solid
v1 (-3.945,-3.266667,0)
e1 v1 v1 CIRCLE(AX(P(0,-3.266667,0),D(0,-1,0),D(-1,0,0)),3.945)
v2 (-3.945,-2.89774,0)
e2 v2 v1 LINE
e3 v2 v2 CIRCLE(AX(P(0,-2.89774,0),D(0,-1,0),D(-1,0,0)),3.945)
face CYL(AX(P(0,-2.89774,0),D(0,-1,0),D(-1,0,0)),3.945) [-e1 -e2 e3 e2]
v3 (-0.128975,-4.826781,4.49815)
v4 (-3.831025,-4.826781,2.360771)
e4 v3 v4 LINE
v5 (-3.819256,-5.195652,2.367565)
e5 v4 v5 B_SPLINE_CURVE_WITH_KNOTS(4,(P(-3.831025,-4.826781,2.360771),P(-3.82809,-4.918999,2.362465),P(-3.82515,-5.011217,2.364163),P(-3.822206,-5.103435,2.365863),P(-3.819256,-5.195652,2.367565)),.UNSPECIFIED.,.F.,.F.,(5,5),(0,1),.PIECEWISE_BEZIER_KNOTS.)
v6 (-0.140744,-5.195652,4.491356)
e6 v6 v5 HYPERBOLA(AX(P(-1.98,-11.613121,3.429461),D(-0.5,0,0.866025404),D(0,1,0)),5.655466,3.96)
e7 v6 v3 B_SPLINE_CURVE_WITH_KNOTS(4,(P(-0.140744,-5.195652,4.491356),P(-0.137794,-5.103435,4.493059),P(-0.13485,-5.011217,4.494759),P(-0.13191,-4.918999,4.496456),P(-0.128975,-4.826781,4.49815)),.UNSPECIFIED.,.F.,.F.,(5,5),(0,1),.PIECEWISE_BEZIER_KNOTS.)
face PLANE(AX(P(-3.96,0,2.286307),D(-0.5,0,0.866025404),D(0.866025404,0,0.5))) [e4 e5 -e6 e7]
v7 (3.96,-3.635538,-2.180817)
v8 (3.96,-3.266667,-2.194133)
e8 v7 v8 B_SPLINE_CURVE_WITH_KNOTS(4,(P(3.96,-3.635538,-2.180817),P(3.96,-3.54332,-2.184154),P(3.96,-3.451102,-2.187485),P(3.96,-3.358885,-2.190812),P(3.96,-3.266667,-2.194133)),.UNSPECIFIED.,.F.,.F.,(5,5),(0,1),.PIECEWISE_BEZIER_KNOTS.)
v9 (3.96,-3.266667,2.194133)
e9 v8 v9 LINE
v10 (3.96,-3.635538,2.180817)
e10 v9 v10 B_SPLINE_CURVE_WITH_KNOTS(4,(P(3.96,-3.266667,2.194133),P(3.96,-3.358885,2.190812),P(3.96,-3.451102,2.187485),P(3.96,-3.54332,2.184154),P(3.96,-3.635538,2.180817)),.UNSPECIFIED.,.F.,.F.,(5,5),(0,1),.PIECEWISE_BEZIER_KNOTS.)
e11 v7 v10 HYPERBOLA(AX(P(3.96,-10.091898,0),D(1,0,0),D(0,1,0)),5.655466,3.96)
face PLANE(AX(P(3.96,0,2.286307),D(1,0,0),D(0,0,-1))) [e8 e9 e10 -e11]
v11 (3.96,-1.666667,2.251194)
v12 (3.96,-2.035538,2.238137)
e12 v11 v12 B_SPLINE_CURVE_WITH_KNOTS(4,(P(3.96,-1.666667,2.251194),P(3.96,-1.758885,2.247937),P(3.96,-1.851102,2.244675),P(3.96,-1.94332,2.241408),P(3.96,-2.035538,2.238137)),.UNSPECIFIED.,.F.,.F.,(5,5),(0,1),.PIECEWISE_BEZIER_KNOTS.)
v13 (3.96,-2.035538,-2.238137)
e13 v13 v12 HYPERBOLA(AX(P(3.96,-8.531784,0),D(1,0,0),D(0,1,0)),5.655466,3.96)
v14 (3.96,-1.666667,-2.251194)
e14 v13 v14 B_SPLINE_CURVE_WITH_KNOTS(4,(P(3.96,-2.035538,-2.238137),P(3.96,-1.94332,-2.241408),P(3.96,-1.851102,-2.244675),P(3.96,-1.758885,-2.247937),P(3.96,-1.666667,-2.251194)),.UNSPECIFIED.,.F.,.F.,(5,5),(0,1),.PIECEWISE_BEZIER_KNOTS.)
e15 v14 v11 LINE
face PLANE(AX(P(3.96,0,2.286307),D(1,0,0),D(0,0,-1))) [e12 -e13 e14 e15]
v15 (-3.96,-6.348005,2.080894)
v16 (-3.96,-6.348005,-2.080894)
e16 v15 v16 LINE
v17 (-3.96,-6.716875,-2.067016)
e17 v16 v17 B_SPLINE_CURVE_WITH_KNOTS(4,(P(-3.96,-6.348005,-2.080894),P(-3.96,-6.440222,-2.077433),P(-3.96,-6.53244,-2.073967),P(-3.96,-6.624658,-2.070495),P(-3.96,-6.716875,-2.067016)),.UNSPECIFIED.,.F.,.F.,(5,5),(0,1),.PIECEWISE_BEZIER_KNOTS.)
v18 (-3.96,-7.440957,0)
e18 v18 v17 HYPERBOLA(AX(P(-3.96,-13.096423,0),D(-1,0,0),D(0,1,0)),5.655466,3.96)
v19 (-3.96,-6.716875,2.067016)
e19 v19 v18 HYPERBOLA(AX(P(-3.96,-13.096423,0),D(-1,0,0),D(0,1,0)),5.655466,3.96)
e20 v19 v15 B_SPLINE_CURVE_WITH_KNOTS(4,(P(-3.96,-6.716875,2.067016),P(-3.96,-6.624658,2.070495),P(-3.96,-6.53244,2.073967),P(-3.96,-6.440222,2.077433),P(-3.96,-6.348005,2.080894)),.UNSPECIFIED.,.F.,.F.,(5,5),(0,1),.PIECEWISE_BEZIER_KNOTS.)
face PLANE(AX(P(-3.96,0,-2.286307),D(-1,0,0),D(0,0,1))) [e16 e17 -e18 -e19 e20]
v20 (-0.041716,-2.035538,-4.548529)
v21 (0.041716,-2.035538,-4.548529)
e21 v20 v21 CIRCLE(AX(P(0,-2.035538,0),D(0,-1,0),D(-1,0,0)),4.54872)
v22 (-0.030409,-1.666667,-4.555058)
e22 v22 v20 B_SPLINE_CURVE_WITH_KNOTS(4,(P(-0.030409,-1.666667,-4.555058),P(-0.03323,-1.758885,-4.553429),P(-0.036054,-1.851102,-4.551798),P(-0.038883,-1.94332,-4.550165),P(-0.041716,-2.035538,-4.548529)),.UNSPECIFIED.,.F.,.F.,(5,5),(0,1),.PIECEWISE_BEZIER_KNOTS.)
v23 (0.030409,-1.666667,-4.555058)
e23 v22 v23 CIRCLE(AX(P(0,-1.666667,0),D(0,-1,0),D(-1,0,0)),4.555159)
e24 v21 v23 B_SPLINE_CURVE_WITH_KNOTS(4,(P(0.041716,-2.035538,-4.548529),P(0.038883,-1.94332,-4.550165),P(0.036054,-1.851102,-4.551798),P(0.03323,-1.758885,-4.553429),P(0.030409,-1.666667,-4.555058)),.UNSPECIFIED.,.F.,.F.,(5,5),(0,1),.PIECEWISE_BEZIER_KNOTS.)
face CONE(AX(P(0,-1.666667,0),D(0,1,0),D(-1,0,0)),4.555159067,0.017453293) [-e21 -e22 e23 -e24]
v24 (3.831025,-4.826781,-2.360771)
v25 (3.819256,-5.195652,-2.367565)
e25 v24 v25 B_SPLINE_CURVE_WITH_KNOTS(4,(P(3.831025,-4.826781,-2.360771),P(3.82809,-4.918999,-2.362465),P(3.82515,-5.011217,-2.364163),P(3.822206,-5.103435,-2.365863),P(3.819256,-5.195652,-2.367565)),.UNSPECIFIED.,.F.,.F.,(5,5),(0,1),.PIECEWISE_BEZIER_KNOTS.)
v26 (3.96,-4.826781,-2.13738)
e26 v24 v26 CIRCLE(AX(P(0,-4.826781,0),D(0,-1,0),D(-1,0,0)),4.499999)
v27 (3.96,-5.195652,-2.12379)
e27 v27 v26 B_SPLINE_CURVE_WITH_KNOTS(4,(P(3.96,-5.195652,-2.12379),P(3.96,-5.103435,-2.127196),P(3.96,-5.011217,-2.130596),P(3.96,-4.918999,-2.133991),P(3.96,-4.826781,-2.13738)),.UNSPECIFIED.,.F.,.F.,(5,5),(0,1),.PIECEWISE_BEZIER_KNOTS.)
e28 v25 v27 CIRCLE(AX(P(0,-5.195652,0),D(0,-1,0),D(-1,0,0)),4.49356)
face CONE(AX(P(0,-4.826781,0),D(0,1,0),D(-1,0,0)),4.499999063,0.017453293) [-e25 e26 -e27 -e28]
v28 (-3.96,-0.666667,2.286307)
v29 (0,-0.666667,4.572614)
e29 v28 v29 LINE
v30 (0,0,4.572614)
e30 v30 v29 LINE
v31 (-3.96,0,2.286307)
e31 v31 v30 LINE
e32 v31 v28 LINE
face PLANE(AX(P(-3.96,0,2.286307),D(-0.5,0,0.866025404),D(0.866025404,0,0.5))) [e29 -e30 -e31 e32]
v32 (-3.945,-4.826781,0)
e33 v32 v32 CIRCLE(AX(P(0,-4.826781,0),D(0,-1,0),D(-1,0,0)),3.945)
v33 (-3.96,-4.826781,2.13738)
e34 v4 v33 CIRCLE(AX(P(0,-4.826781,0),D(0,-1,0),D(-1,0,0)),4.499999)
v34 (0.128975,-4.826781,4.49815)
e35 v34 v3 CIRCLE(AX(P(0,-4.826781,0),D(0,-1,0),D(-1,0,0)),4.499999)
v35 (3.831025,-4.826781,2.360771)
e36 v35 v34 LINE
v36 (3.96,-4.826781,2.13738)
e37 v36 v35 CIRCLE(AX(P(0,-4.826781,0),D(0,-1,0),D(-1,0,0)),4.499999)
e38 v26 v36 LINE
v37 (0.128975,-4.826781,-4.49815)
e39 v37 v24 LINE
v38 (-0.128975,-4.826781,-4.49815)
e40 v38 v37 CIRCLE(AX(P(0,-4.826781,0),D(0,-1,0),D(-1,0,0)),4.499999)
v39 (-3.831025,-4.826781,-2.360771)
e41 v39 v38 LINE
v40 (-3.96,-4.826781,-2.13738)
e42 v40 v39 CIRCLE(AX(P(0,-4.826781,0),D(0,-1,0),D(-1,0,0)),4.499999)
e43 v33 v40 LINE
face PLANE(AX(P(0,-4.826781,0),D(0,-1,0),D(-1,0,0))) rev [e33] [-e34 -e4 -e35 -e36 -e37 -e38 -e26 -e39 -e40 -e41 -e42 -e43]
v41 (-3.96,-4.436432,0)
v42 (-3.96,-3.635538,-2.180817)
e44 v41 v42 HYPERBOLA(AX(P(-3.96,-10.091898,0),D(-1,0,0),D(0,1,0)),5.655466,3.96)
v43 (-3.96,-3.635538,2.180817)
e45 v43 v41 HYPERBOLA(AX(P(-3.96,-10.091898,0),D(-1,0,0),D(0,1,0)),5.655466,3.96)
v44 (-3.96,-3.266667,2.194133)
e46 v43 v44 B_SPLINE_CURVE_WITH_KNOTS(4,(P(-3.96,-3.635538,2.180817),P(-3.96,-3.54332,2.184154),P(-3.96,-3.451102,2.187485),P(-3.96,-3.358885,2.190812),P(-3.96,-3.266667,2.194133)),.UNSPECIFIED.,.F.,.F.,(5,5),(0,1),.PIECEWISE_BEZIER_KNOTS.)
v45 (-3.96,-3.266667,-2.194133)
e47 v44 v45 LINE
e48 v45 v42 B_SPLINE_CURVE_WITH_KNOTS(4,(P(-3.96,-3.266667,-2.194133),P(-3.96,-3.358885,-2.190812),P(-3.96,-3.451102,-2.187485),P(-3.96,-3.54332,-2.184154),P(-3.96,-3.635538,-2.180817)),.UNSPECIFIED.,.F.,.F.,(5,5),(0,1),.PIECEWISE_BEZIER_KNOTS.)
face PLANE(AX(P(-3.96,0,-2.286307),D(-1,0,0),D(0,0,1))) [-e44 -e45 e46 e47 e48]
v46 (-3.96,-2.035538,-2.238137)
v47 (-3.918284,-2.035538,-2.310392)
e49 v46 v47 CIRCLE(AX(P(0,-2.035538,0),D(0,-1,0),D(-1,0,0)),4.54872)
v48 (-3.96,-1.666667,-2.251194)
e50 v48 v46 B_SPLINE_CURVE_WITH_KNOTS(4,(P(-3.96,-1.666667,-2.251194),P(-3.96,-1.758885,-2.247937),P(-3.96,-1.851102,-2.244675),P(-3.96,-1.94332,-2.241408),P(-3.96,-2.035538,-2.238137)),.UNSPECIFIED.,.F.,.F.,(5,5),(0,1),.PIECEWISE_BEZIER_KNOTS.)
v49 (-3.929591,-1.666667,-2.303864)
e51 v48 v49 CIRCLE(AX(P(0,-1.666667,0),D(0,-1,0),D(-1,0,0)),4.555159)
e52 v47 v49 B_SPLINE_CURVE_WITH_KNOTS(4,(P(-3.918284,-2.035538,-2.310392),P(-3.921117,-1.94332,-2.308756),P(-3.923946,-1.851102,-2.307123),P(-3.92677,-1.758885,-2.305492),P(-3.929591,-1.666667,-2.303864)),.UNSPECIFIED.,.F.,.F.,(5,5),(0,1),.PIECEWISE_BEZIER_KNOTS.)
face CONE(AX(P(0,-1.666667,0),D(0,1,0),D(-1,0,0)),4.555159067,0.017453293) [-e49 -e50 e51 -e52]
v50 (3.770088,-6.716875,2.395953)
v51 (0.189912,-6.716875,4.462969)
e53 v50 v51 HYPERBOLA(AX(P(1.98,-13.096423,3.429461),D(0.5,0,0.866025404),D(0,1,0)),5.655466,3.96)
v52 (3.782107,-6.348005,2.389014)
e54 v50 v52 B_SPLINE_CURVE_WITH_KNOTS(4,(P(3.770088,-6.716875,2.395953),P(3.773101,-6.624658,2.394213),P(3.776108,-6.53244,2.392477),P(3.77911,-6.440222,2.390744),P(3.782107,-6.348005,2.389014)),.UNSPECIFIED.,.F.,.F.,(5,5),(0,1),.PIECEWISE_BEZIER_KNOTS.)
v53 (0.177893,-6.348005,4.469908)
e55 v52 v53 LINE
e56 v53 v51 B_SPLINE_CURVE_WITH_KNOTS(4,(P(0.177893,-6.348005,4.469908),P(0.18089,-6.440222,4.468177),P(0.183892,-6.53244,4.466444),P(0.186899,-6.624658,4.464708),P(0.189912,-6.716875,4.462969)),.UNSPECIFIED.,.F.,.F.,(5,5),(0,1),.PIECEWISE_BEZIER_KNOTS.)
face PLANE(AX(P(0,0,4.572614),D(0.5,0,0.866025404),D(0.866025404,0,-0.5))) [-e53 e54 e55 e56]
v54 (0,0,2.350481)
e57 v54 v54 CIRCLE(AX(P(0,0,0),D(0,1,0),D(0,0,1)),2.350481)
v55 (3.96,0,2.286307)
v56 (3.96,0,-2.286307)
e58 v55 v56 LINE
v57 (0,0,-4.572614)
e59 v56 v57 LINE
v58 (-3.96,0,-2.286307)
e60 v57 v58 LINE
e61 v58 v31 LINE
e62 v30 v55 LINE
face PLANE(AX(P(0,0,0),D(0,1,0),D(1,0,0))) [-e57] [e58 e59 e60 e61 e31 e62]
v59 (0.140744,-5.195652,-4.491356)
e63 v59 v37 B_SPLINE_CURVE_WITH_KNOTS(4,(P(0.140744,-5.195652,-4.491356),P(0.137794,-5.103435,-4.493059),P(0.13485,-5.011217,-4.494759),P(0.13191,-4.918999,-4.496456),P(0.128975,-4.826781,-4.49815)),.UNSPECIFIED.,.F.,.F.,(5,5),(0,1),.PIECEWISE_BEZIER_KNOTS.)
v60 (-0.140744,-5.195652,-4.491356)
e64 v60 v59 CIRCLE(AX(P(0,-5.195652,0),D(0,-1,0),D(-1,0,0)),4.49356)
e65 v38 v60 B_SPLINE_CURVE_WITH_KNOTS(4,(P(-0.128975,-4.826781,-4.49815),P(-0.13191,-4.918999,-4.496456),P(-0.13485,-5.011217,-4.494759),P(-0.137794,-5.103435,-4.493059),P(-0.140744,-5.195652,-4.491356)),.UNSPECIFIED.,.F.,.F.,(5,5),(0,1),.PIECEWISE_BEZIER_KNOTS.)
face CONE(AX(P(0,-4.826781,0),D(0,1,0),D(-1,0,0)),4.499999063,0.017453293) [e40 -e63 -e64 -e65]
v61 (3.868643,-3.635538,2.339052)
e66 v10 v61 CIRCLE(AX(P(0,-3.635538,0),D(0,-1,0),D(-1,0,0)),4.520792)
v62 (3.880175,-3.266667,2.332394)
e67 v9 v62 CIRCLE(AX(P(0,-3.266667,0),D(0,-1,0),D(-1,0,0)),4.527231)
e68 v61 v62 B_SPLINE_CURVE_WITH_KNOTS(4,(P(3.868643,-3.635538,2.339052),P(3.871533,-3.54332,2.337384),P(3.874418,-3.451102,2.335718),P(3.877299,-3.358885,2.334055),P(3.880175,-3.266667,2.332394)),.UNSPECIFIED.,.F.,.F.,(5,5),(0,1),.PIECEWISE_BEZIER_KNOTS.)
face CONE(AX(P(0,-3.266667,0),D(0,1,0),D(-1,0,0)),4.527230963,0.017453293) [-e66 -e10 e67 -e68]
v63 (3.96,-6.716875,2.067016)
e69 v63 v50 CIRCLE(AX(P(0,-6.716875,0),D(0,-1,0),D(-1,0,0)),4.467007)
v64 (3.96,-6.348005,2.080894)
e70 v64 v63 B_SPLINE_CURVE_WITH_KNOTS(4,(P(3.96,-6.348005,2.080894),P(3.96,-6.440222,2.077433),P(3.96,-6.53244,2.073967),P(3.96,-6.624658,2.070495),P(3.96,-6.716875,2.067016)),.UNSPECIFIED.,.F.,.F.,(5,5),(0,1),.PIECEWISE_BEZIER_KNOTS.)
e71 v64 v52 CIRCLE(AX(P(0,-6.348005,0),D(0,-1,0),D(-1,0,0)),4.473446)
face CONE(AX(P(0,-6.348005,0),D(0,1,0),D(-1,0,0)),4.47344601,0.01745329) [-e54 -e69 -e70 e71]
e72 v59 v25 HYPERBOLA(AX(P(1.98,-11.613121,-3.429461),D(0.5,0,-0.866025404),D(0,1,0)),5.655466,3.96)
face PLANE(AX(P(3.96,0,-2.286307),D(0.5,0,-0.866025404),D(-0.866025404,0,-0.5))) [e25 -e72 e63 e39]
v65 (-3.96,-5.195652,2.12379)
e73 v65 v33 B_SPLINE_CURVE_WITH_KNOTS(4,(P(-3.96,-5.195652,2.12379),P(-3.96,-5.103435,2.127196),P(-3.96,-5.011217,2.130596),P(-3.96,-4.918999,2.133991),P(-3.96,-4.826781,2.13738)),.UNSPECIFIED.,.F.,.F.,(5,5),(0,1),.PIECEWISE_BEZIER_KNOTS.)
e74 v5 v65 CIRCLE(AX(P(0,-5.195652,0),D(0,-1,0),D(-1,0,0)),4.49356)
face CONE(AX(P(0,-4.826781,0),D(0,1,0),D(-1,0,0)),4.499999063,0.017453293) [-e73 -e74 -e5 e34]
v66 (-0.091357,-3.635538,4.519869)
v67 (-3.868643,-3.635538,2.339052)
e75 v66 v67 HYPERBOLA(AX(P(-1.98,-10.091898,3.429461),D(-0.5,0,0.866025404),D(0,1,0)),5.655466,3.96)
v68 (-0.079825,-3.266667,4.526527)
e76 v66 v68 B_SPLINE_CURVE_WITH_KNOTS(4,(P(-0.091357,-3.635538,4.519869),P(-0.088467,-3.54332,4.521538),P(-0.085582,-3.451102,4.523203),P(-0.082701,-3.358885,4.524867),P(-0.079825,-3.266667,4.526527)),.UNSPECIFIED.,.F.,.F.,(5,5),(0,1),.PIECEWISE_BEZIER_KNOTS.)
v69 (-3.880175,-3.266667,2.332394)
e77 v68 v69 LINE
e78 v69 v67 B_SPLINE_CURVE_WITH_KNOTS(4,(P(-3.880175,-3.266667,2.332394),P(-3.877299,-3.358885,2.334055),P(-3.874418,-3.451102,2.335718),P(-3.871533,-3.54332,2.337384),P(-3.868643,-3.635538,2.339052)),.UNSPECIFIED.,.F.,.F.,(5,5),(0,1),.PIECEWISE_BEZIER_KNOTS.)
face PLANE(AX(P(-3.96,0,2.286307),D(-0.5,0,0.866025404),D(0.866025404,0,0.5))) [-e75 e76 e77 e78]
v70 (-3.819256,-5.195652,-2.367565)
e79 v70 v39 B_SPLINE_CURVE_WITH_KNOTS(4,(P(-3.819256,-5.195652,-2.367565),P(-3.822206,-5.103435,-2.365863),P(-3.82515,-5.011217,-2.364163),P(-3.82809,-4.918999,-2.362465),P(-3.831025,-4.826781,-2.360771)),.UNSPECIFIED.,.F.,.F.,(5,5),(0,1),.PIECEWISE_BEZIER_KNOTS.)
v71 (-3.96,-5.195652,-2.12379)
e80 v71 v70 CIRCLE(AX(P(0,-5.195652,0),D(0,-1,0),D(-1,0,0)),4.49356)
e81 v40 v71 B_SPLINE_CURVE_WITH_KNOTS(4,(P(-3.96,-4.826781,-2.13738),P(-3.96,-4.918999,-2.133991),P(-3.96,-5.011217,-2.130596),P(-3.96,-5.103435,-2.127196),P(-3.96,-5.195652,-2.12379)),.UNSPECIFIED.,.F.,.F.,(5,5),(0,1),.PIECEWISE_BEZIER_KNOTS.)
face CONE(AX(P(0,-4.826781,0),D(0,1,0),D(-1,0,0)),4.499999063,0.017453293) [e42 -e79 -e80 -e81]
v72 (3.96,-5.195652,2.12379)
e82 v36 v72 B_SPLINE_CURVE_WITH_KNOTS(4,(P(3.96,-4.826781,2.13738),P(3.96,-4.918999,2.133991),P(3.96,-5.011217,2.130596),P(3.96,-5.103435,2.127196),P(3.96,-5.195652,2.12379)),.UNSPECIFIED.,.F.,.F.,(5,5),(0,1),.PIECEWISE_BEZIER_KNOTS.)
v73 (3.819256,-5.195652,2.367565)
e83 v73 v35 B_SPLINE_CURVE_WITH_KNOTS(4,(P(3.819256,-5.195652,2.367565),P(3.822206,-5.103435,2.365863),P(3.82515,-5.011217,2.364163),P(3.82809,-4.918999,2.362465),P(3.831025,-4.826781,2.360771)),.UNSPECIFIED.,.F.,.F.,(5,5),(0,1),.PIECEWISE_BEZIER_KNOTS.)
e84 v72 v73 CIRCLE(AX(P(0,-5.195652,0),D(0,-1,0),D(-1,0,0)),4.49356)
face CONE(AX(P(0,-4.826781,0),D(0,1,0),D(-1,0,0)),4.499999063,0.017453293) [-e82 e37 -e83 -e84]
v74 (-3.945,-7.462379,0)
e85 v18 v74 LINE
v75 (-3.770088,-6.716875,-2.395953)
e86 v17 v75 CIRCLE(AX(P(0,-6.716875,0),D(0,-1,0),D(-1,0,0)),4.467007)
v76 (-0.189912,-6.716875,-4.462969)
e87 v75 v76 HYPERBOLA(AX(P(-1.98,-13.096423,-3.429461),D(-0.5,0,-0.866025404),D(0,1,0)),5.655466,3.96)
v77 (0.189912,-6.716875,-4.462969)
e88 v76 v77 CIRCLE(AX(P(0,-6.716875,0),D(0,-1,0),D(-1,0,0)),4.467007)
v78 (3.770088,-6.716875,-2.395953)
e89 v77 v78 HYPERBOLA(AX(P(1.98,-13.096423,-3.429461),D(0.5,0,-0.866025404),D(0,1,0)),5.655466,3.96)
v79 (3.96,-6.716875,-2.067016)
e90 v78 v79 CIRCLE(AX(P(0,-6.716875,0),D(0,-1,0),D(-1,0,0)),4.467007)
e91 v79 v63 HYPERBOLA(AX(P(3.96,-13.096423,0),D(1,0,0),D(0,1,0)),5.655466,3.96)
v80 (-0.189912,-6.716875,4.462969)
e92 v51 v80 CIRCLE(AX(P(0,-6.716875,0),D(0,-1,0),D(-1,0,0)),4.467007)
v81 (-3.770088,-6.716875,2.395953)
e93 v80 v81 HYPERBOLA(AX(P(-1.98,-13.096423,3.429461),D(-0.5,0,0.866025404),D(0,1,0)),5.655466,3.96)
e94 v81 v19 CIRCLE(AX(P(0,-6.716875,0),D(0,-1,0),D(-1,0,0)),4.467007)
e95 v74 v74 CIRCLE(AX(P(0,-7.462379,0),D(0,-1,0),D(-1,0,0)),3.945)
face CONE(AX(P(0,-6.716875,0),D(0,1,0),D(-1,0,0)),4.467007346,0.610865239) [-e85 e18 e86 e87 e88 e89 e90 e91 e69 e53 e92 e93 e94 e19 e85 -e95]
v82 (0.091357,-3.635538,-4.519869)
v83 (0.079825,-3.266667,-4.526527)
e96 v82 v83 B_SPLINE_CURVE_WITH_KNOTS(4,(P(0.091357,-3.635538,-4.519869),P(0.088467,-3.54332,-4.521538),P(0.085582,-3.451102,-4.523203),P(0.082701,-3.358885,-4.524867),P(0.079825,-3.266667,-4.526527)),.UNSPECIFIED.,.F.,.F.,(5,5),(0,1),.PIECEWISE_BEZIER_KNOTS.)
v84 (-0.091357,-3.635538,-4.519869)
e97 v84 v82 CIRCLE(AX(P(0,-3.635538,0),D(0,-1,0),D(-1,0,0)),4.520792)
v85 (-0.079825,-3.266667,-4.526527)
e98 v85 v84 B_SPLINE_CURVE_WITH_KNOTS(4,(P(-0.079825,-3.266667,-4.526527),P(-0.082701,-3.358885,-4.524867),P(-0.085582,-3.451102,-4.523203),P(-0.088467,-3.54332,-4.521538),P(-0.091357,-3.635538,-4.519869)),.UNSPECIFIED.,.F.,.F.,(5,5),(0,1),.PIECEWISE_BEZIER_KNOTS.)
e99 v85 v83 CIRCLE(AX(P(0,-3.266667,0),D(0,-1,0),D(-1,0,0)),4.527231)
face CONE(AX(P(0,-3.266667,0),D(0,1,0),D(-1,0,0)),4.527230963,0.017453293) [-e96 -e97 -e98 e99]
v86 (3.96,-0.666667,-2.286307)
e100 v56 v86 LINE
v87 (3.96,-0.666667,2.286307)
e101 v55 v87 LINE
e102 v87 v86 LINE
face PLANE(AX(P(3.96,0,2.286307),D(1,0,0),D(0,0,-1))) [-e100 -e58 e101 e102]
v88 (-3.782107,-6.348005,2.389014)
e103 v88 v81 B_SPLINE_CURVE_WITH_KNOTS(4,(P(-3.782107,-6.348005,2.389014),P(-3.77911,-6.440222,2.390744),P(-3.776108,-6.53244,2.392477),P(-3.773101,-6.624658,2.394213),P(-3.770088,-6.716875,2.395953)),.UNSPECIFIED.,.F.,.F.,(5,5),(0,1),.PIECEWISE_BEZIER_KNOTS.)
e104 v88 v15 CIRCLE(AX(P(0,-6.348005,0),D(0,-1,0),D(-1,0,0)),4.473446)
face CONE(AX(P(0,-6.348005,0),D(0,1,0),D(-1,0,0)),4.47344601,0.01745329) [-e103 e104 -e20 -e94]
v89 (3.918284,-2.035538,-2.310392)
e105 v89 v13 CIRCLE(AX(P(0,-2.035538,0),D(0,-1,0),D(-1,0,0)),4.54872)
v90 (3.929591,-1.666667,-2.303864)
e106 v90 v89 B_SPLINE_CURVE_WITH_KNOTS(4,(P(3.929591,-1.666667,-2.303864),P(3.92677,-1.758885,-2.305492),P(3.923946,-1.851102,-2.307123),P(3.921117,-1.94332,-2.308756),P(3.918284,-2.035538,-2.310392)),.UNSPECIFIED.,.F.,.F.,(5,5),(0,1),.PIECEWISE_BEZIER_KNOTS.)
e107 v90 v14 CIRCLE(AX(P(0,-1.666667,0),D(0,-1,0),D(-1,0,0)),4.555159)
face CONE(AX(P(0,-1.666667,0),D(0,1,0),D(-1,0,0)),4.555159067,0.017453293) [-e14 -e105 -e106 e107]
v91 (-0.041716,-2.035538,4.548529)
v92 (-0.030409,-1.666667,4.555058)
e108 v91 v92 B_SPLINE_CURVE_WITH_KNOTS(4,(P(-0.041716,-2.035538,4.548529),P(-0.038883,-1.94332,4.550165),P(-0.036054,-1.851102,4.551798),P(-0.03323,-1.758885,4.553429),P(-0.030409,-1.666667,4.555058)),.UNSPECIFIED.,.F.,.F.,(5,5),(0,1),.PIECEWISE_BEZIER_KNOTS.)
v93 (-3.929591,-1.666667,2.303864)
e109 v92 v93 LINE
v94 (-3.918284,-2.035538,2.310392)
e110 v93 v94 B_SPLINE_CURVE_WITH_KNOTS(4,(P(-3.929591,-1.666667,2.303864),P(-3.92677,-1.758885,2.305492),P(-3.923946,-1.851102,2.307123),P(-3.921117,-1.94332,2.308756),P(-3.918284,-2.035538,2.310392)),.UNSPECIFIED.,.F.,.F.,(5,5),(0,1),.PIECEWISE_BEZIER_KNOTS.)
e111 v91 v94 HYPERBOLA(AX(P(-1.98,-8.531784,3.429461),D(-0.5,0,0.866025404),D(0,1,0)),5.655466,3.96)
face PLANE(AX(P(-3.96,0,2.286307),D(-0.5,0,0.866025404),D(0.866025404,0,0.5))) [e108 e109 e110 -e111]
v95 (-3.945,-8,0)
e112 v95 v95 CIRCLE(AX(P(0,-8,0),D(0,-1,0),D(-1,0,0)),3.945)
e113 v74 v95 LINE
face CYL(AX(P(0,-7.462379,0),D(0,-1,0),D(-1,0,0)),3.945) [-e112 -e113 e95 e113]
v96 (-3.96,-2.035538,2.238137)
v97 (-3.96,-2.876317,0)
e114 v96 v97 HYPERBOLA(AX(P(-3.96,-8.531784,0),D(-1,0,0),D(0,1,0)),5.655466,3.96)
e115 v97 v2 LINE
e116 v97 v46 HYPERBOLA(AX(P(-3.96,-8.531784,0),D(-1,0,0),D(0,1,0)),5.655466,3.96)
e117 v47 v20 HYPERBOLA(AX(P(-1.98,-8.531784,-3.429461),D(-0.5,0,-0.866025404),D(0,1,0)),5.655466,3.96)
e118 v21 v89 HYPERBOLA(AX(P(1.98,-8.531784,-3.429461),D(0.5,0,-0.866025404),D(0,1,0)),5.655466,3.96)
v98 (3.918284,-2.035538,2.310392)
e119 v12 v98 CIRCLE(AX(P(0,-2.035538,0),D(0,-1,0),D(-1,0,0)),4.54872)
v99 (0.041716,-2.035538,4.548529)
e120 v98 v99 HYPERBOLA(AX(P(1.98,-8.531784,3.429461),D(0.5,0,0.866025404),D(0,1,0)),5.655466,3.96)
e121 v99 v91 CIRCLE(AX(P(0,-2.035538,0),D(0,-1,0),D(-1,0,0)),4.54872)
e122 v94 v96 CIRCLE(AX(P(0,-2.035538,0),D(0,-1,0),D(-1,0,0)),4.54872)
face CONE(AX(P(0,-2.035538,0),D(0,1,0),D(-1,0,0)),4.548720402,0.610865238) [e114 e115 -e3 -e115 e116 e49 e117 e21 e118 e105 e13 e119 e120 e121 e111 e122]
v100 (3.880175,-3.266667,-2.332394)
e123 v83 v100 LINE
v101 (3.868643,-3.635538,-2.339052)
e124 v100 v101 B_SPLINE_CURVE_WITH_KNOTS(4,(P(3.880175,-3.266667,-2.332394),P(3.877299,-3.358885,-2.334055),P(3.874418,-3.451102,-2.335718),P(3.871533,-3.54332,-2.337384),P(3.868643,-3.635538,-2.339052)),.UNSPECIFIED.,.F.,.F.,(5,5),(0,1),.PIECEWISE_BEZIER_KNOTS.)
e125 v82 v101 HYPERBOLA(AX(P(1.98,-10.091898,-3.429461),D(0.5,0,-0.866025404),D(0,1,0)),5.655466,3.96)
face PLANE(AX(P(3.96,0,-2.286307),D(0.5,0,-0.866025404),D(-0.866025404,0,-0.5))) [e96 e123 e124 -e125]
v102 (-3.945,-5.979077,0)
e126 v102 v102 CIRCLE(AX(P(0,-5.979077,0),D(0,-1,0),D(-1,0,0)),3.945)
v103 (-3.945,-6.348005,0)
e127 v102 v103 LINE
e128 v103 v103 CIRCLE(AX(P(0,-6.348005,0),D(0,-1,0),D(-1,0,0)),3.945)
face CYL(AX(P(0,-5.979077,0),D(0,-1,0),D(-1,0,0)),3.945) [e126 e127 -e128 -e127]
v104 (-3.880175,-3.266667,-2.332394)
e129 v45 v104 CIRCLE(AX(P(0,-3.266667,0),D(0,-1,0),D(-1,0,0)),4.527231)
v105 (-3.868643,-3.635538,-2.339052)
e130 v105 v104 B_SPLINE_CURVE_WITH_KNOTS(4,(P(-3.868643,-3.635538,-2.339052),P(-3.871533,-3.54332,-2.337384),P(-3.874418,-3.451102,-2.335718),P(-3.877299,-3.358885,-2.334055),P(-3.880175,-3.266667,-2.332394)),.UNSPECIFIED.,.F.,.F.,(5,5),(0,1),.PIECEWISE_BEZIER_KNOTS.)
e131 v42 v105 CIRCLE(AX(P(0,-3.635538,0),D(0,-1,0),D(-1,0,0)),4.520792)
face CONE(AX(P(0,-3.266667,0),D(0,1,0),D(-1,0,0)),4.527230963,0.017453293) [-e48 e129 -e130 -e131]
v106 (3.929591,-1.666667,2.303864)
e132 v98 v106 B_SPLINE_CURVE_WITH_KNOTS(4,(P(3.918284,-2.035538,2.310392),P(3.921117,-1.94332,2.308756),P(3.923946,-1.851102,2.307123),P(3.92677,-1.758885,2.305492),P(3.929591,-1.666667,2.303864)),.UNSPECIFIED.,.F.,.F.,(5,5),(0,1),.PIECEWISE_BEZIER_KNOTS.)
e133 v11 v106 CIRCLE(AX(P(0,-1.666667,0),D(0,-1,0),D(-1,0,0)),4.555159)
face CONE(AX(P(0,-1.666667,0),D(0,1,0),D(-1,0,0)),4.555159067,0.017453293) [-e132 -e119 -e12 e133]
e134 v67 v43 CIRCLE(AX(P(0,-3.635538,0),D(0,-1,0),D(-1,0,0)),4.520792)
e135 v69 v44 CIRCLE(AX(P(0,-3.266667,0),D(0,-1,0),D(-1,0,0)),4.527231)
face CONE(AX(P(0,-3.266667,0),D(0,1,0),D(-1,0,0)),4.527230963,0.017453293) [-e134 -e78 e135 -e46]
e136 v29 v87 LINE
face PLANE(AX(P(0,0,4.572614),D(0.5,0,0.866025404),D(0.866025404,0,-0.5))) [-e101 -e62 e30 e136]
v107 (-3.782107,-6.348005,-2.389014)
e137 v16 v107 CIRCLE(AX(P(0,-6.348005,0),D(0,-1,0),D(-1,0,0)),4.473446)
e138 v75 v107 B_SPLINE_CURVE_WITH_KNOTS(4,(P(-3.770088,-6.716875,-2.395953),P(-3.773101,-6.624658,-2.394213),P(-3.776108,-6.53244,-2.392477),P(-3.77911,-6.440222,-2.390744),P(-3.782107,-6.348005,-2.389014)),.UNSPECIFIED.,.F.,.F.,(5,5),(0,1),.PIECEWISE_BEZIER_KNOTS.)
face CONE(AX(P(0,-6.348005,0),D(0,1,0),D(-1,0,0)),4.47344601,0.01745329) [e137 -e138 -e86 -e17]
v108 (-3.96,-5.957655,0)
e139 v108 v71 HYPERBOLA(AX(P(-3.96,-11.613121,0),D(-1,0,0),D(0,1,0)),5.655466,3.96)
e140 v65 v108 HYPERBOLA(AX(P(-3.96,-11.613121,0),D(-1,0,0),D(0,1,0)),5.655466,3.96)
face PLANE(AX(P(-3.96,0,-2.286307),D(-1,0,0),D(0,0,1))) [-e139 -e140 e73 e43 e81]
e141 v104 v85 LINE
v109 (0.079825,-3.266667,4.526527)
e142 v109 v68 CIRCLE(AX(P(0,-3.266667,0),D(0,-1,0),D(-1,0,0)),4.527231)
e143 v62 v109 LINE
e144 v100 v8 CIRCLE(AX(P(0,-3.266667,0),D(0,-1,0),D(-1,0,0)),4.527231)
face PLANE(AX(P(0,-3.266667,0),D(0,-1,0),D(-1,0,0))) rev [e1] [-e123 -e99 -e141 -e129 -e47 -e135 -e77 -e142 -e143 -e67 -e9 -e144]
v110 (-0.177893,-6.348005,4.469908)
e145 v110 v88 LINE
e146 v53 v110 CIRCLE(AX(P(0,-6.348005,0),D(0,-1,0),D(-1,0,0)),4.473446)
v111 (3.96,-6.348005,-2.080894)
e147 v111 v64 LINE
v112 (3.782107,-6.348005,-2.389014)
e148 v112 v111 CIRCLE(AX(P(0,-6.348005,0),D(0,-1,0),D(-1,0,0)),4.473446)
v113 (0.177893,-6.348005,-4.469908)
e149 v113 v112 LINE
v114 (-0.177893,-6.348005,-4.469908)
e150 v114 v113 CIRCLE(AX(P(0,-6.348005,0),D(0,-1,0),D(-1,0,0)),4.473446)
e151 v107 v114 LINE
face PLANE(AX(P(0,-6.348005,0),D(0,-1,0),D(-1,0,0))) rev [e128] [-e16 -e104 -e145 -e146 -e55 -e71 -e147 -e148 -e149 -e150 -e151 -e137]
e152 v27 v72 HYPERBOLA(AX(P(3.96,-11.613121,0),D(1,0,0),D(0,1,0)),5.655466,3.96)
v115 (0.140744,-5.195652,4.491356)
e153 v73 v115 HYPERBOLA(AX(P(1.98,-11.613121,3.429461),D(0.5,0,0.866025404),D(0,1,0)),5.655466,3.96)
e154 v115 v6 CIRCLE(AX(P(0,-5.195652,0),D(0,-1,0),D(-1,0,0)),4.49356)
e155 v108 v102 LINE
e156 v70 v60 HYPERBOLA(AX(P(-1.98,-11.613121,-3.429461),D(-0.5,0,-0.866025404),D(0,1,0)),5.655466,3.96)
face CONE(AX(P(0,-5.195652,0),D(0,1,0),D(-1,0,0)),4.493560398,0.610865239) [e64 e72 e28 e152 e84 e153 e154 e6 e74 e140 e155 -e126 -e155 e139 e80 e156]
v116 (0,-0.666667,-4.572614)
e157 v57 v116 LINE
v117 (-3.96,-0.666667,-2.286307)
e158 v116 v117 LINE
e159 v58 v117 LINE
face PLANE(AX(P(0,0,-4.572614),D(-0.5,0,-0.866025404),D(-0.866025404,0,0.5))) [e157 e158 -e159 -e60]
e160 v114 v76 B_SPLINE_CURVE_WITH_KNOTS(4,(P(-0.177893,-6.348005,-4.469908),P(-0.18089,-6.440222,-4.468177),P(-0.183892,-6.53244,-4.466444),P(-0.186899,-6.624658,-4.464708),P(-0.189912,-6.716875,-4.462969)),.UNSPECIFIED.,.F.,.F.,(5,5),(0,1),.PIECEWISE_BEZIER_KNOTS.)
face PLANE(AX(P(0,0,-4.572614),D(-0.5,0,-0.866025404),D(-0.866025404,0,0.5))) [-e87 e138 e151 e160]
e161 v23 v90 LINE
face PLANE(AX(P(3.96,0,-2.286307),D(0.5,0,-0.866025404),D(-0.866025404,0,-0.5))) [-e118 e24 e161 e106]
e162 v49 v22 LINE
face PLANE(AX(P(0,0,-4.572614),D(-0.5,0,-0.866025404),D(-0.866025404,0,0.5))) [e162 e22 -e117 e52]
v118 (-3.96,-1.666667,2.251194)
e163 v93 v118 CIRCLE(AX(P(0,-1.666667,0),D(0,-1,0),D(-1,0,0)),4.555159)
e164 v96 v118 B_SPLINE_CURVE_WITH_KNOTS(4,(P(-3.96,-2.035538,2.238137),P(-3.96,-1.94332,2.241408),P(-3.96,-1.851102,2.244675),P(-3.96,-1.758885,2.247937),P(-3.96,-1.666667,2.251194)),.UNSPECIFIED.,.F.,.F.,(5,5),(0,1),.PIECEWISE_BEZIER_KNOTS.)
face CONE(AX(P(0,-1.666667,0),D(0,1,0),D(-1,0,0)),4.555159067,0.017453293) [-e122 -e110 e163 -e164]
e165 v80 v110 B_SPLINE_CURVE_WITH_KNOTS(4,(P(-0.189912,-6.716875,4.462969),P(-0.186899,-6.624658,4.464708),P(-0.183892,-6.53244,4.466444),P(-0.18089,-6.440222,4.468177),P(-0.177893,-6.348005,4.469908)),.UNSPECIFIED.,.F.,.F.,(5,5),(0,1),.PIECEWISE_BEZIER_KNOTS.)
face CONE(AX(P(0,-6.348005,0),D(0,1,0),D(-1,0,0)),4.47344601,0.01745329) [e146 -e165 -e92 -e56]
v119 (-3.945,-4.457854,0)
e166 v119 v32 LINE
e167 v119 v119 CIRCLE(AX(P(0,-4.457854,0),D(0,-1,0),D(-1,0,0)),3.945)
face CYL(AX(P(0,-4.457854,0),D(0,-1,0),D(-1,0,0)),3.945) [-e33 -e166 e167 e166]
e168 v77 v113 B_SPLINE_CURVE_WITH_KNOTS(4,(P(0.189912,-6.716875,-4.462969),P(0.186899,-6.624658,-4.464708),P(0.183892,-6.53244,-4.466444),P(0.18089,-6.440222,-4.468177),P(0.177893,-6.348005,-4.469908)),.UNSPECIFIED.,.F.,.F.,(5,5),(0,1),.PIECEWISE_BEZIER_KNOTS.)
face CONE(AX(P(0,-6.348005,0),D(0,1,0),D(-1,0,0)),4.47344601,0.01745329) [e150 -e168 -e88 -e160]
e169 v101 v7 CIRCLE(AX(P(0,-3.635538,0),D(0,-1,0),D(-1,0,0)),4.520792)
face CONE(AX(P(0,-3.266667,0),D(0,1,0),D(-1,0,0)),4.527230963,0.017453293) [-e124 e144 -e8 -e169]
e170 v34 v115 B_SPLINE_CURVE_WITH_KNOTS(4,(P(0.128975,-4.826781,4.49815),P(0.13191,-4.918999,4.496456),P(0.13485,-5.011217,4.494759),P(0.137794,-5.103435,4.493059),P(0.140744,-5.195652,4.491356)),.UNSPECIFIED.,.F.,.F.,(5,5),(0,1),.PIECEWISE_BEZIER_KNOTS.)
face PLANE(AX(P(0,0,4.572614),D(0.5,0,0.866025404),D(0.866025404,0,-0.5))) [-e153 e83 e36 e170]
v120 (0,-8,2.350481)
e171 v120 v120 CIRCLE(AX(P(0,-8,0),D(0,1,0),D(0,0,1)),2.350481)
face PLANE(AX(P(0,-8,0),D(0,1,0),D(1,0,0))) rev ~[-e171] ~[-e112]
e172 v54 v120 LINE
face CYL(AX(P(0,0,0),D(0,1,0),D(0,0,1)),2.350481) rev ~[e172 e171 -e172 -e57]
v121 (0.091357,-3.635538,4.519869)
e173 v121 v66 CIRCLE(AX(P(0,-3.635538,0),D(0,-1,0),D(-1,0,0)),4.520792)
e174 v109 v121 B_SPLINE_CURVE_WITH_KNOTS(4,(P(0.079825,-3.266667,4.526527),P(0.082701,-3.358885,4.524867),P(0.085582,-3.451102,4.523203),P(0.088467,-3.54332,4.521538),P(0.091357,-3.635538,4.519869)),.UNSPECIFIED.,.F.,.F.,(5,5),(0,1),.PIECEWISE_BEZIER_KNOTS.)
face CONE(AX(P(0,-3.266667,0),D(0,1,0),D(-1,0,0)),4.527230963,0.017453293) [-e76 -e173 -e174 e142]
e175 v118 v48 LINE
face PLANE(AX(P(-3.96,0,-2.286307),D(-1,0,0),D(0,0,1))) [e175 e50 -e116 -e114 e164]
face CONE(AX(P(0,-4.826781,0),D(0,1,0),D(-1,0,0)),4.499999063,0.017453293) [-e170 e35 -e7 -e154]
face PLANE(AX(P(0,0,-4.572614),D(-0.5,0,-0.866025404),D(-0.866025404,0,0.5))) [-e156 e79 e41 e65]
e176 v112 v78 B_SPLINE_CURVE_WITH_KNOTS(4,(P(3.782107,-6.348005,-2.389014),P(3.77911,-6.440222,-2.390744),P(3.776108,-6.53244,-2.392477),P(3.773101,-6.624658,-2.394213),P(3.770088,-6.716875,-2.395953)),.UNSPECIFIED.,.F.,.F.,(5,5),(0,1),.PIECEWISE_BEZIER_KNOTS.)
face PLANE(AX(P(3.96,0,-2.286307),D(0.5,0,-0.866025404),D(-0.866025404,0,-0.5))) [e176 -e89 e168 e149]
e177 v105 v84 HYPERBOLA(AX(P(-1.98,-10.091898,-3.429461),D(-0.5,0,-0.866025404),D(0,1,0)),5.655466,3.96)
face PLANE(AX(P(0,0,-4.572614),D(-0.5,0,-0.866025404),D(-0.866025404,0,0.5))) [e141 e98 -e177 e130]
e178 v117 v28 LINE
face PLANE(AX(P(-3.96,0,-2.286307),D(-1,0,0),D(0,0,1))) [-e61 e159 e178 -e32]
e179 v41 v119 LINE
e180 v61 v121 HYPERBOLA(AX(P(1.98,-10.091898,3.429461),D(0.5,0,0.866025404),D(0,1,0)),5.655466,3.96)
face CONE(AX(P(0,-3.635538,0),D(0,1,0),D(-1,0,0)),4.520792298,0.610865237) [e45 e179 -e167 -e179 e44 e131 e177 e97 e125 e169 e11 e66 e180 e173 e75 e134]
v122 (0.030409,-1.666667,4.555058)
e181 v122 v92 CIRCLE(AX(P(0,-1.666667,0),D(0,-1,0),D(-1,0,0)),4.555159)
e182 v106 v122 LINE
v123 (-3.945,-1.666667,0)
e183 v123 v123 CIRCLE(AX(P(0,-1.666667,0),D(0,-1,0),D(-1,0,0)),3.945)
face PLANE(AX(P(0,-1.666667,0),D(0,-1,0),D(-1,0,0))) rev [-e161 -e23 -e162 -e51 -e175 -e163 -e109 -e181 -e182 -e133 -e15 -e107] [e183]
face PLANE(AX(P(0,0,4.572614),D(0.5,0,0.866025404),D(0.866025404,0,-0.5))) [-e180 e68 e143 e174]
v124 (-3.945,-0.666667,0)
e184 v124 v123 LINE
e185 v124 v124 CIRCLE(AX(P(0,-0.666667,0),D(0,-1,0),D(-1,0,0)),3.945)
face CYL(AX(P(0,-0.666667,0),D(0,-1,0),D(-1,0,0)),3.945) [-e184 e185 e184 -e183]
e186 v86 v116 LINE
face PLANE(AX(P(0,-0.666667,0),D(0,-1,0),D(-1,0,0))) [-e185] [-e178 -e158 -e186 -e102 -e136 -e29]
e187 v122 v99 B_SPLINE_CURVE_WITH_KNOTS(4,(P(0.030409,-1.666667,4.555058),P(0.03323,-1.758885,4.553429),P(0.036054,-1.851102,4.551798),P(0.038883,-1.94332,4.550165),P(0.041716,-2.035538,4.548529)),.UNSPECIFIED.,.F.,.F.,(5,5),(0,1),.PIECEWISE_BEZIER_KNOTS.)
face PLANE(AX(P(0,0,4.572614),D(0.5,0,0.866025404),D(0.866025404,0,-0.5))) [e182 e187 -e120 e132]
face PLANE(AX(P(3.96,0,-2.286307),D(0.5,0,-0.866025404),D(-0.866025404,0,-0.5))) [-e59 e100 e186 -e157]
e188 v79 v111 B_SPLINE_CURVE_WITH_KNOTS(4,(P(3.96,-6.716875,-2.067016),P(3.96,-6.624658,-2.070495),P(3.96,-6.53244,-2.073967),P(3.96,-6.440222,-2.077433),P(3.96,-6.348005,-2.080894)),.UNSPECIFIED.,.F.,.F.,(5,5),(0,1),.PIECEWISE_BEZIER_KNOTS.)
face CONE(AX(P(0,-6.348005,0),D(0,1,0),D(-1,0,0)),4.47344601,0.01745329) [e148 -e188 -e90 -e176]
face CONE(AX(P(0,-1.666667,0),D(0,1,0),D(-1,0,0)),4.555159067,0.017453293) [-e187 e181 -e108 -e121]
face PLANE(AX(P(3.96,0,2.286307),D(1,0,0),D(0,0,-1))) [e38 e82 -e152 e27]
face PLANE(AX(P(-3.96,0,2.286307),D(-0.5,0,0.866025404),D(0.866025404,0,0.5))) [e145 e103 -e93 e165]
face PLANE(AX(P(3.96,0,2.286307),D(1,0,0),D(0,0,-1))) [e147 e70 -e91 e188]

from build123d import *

# Parameters (mm, degrees)
EXTRUDE1_DEPTH = 8
SKETCH4_R      = 2.350480947
EXTRUDE2_DEPTH = 11.029476557


with BuildPart() as part:
    # Sketch1 → Extrude1 (new body)
    with BuildSketch(Plane(origin=(0, 0, 0), x_dir=(1, 0, 0), z_dir=(0, 1, 0))):
        Polygon((0, 4.572614132), (-3.96, 2.286307066), (-3.96, -2.286307066), (0, -4.572614132), (3.96, -2.286307066), (3.96, 2.286307066), align=None)
    extrude(amount=-EXTRUDE1_DEPTH)

    # Sketch4 → Extrude2 (cut, through all)
    with BuildSketch(Plane(origin=(0, 0, 0), x_dir=(-1, 0, 0), z_dir=(0, 1, 0))):
        Circle(SKETCH4_R)
    extrude(amount=-EXTRUDE2_DEPTH, mode=Mode.SUBTRACT)

    # Sketch5 → Cut-Revolve1 (revolve, cut)
    with BuildSketch(Plane.XY):
        Polygon((-3.945, -8), (-4.572614132, -8), (-5.200228264, -8), (-5.200228264, 0), (-4.572614132, 0), (-4.572614132, -0.666666667), (-3.945, -0.666666667), (-3.945, -1.666666667), (-4.555159067, -1.666666667), (-4.548720402, -2.035537527), (-3.945, -2.897739617), (-3.945, -3.266666667), (-4.527230963, -3.266666667), (-4.520792298, -3.635537527), (-3.945, -4.457854151), (-3.945, -4.826781201), (-4.499999063, -4.826781201), (-4.493560398, -5.195652062), (-3.945, -5.9790775), (-3.945, -6.34800455), (-4.47344601, -6.34800455), (-4.467007346, -6.716875411), (-3.945, -7.462379161), align=None)
    revolve(axis=Axis((0, 0, 0), (0, -1, 0)), mode=Mode.SUBTRACT)


solid = part.part
